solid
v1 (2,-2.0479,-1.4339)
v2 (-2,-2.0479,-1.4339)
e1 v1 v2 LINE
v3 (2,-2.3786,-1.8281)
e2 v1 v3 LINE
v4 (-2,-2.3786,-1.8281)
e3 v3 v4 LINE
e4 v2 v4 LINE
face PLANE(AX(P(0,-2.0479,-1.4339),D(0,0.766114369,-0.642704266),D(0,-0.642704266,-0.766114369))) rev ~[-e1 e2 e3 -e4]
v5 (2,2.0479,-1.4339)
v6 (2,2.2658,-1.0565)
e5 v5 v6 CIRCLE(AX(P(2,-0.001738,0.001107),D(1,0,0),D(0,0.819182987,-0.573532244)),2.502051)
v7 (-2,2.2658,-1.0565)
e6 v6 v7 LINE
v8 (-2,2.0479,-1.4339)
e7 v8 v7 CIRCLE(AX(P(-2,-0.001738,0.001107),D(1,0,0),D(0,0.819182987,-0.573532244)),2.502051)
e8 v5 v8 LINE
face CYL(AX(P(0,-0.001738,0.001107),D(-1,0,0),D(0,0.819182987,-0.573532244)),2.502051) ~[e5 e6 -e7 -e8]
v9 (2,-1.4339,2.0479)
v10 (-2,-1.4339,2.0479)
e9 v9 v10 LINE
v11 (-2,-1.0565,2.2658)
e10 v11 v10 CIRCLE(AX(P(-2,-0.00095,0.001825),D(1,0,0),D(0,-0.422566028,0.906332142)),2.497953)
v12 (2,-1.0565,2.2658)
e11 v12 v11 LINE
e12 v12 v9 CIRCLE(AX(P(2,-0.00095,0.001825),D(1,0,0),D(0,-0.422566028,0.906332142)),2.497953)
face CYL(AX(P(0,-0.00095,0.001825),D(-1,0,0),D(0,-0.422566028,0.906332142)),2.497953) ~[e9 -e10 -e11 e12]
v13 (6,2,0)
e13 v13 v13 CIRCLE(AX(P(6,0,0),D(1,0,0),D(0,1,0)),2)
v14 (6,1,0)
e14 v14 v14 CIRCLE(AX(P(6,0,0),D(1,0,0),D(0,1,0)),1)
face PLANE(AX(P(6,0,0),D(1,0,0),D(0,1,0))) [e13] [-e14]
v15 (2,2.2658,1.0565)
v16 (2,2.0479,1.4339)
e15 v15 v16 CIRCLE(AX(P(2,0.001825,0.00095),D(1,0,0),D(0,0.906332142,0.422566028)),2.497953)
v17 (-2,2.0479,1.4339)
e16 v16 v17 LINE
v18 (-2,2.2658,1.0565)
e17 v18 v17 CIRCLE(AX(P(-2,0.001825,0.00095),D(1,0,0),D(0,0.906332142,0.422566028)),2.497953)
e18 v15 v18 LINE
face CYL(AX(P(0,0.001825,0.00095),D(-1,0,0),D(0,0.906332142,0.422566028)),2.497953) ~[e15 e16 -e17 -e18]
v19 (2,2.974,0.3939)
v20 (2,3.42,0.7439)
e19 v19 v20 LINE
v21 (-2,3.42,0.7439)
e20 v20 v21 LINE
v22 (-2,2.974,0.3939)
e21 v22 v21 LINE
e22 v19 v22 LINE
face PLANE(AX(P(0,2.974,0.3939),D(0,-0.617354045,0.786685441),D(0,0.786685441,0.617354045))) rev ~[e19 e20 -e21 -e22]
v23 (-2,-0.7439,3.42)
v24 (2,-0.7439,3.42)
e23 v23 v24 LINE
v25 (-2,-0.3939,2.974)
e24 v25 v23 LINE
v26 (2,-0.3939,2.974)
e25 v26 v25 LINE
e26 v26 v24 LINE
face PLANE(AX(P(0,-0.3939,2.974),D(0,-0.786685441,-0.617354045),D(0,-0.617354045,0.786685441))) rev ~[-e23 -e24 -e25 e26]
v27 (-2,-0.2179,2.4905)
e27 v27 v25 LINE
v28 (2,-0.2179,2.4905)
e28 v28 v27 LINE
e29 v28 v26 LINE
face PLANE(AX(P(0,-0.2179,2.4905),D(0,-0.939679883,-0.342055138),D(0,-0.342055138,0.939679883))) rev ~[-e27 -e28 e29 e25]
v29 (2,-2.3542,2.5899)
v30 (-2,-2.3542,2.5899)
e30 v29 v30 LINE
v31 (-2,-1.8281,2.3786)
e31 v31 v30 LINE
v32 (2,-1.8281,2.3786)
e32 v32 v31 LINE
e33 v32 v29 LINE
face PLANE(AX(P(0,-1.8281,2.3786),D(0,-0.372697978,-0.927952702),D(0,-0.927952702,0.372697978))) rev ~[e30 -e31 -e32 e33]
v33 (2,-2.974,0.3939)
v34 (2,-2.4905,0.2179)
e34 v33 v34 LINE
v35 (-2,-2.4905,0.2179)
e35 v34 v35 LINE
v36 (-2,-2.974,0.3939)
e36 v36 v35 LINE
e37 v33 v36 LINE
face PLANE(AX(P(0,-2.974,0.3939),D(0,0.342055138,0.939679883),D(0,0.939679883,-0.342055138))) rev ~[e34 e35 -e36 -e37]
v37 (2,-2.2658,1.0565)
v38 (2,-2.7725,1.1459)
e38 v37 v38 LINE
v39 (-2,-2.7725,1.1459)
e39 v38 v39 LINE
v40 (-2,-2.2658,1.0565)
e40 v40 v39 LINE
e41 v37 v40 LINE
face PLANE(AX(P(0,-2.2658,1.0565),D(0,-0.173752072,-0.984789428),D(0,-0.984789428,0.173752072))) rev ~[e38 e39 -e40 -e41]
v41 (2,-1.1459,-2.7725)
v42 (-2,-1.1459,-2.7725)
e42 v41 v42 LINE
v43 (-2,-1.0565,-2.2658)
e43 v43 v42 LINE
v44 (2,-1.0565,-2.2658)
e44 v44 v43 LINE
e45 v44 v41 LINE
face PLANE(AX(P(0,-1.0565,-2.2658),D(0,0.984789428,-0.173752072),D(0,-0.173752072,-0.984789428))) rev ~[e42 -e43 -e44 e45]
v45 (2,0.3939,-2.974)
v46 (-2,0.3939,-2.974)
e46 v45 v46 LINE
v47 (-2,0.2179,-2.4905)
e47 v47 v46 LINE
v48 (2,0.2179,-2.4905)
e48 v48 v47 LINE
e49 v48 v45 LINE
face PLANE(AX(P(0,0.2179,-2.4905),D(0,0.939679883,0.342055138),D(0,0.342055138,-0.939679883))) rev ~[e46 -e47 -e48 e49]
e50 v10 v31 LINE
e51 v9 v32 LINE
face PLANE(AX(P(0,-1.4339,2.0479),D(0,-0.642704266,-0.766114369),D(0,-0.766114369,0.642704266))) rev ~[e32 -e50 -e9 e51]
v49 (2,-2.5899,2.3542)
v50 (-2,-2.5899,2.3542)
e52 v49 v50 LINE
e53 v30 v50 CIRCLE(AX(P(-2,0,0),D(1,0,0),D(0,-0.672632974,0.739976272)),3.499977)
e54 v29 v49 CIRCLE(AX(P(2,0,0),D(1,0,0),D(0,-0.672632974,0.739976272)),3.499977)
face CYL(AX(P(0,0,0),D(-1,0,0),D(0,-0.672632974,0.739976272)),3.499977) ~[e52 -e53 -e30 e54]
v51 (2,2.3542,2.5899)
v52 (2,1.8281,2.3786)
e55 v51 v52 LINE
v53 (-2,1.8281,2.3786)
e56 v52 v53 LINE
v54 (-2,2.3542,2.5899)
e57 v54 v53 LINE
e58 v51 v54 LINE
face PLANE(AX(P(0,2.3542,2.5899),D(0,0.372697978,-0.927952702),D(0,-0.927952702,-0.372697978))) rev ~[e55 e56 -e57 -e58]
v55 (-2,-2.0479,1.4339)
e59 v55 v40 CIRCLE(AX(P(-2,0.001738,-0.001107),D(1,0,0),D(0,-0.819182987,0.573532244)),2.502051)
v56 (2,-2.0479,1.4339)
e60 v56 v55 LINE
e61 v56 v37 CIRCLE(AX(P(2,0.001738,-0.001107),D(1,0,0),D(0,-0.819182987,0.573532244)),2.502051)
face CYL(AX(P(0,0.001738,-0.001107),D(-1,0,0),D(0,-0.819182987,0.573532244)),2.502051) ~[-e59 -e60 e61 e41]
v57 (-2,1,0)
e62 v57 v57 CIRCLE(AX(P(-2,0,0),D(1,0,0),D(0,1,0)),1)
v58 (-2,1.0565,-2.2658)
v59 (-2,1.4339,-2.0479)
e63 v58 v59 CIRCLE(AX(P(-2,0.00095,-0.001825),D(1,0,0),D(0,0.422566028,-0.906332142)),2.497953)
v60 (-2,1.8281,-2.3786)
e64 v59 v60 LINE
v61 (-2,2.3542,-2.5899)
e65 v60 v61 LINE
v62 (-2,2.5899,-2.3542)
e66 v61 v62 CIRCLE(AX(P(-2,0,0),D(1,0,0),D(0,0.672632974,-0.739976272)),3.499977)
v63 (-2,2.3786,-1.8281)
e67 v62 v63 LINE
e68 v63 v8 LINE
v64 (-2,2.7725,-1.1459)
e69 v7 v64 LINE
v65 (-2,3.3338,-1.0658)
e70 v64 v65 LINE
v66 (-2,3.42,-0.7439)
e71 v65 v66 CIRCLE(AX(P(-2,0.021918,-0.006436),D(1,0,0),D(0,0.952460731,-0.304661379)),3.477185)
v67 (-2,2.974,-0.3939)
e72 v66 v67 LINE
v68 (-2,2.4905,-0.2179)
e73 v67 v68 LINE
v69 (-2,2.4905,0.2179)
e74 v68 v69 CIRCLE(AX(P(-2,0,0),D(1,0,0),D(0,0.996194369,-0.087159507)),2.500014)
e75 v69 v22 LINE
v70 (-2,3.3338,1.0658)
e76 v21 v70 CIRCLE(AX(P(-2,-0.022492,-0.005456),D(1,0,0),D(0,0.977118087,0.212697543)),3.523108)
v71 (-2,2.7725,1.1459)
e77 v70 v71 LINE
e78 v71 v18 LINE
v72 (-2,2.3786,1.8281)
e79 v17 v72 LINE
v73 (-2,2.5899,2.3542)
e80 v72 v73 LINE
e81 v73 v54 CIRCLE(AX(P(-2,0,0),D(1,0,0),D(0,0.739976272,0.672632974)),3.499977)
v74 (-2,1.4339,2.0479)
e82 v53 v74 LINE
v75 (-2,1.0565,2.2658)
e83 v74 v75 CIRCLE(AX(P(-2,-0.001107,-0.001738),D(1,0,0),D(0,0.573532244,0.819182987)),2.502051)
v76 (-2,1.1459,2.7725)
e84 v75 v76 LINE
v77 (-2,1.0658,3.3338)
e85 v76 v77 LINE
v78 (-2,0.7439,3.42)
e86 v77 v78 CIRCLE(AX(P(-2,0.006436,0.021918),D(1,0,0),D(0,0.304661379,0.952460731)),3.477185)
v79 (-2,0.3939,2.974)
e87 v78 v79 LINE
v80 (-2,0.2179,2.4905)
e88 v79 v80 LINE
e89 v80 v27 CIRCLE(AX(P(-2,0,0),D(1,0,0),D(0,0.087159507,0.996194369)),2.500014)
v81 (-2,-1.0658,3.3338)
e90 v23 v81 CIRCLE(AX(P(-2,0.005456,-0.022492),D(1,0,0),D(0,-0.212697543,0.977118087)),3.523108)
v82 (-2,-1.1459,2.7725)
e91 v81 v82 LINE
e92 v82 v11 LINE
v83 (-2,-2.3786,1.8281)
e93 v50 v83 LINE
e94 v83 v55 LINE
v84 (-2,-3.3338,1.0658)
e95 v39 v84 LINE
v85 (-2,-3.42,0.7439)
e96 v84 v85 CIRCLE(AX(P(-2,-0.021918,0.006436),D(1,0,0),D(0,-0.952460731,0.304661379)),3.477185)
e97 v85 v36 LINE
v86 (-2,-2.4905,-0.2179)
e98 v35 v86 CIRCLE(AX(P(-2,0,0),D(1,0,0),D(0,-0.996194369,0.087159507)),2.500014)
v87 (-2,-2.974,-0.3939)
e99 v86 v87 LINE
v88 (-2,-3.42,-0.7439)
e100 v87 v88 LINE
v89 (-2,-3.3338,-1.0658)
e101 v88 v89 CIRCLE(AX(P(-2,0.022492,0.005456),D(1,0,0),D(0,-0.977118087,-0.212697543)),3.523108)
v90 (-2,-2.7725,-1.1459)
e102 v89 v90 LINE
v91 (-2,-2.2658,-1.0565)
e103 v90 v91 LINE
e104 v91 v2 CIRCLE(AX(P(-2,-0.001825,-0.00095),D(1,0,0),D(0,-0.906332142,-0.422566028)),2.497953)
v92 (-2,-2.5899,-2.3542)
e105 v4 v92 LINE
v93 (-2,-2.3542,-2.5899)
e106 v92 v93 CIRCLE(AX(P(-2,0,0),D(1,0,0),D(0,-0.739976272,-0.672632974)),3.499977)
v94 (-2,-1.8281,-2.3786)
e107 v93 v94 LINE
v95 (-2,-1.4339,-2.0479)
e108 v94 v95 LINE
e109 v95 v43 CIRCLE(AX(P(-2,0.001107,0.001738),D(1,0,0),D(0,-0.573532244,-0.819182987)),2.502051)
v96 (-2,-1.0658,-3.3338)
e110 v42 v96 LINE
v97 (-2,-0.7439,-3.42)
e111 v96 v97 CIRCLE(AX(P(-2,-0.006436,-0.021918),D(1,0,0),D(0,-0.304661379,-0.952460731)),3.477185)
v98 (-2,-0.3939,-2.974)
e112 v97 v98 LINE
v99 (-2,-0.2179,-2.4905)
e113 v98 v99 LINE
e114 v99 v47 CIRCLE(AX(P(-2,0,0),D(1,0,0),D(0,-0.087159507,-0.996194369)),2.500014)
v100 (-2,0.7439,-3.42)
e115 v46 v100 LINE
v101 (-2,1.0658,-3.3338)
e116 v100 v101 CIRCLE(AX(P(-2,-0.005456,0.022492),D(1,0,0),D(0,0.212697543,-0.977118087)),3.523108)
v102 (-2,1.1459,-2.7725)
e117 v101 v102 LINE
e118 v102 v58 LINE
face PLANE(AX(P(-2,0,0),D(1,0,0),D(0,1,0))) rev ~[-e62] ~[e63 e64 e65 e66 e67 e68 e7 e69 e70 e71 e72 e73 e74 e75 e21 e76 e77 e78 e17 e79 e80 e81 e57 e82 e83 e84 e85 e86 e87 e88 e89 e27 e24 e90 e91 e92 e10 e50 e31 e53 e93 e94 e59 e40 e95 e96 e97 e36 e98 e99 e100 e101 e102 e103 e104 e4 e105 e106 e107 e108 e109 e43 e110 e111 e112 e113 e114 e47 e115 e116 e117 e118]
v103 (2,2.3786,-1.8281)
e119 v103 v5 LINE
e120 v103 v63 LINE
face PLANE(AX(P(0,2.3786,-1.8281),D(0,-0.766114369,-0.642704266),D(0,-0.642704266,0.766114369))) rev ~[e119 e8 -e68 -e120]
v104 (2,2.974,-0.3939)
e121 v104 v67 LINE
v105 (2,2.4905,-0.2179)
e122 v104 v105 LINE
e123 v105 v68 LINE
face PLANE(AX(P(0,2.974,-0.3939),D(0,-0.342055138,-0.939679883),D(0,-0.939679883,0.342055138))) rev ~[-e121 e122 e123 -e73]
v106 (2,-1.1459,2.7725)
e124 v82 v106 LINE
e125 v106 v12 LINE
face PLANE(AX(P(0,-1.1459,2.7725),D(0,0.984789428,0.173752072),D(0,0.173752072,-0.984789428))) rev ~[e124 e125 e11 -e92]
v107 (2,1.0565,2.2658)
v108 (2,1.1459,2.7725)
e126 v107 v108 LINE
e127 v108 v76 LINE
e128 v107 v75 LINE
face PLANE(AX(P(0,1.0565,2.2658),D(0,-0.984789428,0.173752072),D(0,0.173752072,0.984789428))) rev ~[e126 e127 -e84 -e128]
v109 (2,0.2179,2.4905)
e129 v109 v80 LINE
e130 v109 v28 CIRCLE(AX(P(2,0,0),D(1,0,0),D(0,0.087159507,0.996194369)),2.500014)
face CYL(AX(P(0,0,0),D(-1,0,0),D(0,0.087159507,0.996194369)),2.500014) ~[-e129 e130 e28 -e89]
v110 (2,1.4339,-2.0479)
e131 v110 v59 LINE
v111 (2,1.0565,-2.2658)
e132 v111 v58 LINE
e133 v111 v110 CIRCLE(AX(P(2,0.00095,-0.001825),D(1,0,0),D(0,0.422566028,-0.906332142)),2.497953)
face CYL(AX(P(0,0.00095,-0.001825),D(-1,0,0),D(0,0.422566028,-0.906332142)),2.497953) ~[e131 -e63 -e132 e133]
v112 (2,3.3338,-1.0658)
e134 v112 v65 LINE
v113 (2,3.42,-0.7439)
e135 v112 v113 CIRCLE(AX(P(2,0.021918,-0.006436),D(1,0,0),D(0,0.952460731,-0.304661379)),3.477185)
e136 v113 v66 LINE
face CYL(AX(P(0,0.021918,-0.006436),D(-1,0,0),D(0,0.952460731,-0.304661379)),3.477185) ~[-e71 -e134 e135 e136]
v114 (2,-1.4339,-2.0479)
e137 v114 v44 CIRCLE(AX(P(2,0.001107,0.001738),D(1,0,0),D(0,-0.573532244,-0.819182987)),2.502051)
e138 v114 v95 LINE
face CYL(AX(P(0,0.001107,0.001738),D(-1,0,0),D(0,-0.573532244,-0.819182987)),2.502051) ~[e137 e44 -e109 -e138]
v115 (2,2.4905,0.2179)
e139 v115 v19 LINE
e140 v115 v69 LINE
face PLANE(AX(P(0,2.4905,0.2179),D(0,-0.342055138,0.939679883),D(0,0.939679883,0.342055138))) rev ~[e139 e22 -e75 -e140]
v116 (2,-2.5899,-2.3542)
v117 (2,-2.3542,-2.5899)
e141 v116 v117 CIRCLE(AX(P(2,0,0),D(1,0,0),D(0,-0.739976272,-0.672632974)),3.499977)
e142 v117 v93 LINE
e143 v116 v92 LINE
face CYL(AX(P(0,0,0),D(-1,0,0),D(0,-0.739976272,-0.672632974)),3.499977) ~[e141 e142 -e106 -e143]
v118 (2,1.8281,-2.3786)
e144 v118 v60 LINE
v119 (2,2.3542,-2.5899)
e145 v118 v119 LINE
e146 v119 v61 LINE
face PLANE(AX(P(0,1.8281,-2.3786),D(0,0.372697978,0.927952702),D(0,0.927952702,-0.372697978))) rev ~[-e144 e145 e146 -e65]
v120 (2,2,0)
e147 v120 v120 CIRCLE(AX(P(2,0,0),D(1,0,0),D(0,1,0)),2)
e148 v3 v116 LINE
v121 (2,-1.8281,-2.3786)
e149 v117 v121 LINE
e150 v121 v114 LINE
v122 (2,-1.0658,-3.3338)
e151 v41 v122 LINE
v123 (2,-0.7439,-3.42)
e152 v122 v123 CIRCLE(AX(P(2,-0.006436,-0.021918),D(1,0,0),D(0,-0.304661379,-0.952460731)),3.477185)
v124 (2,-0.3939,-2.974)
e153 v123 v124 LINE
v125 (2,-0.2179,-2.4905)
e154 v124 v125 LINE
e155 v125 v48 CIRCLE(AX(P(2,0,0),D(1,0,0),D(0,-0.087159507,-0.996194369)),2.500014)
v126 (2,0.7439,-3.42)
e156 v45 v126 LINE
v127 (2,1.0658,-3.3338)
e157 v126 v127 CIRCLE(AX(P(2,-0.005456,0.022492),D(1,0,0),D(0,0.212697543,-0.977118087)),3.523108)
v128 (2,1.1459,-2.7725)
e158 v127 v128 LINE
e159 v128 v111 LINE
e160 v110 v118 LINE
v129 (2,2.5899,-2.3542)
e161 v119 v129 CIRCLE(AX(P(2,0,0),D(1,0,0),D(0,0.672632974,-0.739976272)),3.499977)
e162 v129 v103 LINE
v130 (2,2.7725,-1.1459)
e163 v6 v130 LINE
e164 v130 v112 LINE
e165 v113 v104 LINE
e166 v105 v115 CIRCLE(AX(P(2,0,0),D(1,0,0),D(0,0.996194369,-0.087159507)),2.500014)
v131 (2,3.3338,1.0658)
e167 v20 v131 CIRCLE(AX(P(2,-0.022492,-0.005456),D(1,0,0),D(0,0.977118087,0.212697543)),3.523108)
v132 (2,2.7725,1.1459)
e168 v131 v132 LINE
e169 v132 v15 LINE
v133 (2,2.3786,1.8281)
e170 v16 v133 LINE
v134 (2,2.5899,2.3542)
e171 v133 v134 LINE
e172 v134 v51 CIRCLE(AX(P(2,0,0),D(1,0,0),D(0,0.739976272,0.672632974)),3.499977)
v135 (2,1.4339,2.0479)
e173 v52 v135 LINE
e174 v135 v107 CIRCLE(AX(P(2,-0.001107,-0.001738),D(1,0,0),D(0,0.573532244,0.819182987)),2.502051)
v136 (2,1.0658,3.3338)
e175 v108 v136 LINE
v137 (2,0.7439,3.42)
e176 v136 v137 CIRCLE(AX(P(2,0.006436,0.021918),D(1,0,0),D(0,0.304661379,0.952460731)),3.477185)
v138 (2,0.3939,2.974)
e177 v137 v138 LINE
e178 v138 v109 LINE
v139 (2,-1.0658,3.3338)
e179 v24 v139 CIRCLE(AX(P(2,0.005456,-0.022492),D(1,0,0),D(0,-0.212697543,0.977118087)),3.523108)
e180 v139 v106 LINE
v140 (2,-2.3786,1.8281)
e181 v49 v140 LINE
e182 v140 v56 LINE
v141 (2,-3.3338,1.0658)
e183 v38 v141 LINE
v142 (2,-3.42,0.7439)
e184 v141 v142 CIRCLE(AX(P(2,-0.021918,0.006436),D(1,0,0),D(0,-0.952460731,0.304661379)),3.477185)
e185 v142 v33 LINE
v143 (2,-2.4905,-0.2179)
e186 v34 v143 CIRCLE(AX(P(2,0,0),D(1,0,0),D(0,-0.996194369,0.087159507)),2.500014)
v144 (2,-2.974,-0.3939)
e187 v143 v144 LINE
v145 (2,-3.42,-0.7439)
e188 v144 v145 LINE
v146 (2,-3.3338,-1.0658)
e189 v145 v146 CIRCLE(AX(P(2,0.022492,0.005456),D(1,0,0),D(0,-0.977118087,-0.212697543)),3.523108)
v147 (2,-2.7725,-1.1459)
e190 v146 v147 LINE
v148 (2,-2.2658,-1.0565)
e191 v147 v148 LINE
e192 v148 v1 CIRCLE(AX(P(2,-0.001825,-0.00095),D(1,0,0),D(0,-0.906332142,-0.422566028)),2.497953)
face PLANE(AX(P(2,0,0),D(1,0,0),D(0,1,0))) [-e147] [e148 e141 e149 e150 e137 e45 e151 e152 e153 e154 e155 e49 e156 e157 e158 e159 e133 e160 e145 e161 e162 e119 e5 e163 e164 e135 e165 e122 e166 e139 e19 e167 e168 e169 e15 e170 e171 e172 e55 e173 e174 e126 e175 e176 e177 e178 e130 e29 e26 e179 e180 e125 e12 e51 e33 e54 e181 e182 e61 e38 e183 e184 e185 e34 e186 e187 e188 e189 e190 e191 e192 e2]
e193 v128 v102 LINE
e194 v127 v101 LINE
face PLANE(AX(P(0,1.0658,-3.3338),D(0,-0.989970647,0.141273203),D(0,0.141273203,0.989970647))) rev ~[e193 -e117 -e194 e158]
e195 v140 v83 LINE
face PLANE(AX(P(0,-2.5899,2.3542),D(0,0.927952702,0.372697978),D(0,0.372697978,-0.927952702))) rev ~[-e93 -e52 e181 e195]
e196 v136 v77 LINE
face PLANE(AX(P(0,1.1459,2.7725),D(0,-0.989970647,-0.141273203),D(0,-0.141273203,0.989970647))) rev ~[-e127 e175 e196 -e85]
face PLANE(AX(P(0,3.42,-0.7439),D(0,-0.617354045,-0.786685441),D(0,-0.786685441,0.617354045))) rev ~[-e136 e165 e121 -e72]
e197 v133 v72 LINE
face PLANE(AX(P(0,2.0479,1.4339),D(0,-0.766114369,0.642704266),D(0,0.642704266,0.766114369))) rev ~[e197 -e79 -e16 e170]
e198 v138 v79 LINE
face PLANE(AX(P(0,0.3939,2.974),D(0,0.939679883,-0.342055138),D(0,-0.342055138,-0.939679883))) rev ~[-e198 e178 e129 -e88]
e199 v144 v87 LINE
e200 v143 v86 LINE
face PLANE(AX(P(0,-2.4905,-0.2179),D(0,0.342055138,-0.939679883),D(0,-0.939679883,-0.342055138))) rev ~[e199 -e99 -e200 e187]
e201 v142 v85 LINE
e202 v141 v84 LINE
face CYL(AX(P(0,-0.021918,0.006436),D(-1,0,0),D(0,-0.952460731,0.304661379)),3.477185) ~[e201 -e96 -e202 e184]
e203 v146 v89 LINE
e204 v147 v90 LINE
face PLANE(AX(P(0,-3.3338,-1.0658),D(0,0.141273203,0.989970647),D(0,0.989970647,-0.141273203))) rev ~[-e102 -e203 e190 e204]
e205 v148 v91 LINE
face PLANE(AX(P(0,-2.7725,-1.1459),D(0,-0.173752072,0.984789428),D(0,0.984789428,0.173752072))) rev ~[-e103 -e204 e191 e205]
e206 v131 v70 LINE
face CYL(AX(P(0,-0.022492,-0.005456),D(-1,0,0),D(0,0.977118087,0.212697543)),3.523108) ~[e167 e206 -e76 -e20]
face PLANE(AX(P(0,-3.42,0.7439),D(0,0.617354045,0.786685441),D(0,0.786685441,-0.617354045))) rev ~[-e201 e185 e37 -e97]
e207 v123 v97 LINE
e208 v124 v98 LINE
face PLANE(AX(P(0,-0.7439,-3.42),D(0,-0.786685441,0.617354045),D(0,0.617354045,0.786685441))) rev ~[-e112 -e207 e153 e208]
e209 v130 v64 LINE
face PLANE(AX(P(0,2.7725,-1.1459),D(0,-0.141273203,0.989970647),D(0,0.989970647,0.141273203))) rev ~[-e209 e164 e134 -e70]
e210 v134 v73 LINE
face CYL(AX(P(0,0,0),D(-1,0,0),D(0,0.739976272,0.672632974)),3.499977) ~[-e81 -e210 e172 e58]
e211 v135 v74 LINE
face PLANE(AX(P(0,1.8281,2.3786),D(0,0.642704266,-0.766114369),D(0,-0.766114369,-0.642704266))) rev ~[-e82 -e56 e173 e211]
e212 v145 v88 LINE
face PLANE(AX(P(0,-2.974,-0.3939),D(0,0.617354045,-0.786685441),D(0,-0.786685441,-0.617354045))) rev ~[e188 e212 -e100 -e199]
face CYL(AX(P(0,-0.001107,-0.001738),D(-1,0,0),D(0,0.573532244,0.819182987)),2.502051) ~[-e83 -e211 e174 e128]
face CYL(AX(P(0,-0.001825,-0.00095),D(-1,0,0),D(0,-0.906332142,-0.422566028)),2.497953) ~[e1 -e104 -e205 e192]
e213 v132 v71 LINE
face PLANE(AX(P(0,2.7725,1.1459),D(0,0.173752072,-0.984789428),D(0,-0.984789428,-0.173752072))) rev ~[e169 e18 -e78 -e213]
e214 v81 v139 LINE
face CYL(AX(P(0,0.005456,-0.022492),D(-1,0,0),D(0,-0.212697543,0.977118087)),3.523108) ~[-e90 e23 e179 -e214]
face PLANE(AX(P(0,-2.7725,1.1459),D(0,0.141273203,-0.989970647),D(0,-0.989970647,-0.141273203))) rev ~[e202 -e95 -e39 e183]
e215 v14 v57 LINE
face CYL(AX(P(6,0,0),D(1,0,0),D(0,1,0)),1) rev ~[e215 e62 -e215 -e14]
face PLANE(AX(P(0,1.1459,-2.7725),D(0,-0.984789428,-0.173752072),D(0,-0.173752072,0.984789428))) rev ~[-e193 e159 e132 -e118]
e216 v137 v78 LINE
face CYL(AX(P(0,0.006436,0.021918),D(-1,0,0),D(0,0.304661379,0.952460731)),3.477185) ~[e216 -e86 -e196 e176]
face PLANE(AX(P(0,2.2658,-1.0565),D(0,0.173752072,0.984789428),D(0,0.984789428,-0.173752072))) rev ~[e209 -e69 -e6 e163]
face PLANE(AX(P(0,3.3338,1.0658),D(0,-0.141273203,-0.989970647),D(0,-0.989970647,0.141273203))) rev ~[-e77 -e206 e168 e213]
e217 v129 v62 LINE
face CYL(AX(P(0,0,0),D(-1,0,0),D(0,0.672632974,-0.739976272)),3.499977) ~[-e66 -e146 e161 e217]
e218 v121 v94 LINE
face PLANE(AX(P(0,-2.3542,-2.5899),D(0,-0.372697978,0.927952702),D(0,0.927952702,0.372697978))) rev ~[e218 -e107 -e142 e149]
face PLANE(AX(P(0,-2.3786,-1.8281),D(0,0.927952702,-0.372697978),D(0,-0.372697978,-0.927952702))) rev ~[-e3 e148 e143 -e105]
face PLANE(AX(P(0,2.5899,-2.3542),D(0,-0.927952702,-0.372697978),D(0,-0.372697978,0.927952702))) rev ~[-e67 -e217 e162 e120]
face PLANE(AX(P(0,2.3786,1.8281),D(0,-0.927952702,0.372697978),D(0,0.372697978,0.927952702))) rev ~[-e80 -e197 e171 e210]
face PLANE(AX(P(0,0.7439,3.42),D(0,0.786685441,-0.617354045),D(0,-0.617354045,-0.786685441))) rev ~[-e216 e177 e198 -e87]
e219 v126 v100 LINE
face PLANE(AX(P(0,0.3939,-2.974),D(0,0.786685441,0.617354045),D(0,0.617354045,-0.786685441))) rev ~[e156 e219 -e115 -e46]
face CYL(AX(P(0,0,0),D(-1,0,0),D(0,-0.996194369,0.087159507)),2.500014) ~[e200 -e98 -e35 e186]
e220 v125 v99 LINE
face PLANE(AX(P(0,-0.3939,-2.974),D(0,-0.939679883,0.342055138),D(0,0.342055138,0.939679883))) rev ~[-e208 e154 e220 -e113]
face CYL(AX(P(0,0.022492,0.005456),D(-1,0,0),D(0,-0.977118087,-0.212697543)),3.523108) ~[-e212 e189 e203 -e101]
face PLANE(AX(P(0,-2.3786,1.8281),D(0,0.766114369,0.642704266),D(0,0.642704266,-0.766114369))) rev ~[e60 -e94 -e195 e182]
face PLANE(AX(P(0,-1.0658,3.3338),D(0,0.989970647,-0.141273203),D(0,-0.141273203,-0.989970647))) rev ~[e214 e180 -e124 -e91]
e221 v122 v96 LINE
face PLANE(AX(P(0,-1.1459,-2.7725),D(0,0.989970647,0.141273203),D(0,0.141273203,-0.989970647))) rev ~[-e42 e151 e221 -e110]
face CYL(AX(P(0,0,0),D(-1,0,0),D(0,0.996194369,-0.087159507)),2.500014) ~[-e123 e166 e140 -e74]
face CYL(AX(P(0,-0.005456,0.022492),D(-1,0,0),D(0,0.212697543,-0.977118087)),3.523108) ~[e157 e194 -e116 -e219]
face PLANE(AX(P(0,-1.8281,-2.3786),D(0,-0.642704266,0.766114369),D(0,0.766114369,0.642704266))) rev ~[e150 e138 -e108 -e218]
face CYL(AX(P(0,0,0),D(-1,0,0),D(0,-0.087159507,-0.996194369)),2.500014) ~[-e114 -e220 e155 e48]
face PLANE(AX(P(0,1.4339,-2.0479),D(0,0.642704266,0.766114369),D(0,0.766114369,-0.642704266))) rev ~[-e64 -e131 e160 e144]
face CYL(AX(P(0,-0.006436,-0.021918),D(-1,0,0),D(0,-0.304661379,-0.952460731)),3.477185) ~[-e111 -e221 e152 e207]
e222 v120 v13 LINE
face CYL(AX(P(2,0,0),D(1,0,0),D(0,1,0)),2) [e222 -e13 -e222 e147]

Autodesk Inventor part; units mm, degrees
ref_plane "YZ Plane" through (0, 0, 0) normal (1, 0, 0) x (0, 1, 0)
ref_plane "XZ Plane" through (0, 0, 0) normal (0, 1, 0) x (-1, 0, 0)
ref_plane "XY Plane" through (0, 0, 0) normal (0, 0, 1) x (1, 0, 0)
sketch "Skizze_1" plane through (0, 0, 0) normal (1, 0, 0) x (0, 1, 0)
  arc A0 (-0.7439, 3.42) -> (-1.0658, 3.3338) centre (0, 0) ccw
  line L0 (-1.0658, 3.3338) -> (-1.1459, 2.7725)
  line L1 (-1.1459, 2.7725) -> (-1.0565, 2.2658)
  arc A1 (-1.0565, 2.2658) -> (-1.4339, 2.0479) centre (0, 0) ccw
  line L2 (-1.4339, 2.0479) -> (-1.8281, 2.3786)
  line L3 (-1.8281, 2.3786) -> (-2.3542, 2.5899)
  arc A2 (-2.3542, 2.5899) -> (-2.5899, 2.3542) centre (0, 0) ccw
  line L4 (-2.5899, 2.3542) -> (-2.3786, 1.8281)
  line L5 (-2.3786, 1.8281) -> (-2.0479, 1.4339)
  arc A3 (-2.0479, 1.4339) -> (-2.2658, 1.0565) centre (0, 0) ccw
  line L6 (-2.2658, 1.0565) -> (-2.7725, 1.1459)
  line L7 (-2.7725, 1.1459) -> (-3.3338, 1.0658)
  arc A4 (-3.3338, 1.0658) -> (-3.42, 0.7439) centre (0, 0) ccw
  line L8 (-3.42, 0.7439) -> (-2.974, 0.3939)
  line L9 (-2.974, 0.3939) -> (-2.4905, 0.2179)
  arc A5 (-2.4905, 0.2179) -> (-2.4905, -0.2179) centre (0, 0) ccw
  line L10 (-2.4905, -0.2179) -> (-2.974, -0.3939)
  line L11 (-2.974, -0.3939) -> (-3.42, -0.7439)
  arc A6 (-3.42, -0.7439) -> (-3.3338, -1.0658) centre (0, 0) ccw
  line L12 (-3.3338, -1.0658) -> (-2.7725, -1.1459)
  line L13 (-2.7725, -1.1459) -> (-2.2658, -1.0565)
  arc A7 (-2.2658, -1.0565) -> (-2.0479, -1.4339) centre (0, 0) ccw
  line L14 (-2.0479, -1.4339) -> (-2.3786, -1.8281)
  line L15 (-2.3786, -1.8281) -> (-2.5899, -2.3542)
  arc A8 (-2.5899, -2.3542) -> (-2.3542, -2.5899) centre (0, 0) ccw
  line L16 (-2.3542, -2.5899) -> (-1.8281, -2.3786)
  line L17 (-1.8281, -2.3786) -> (-1.4339, -2.0479)
  arc A9 (-1.4339, -2.0479) -> (-1.0565, -2.2658) centre (0, 0) ccw
  line L18 (-1.0565, -2.2658) -> (-1.1459, -2.7725)
  line L19 (-1.1459, -2.7725) -> (-1.0658, -3.3338)
  arc A10 (-1.0658, -3.3338) -> (-0.7439, -3.42) centre (0, 0) ccw
  line L20 (-0.7439, -3.42) -> (-0.3939, -2.974)
  line L21 (-0.3939, -2.974) -> (-0.2179, -2.4905)
  arc A11 (-0.2179, -2.4905) -> (0.2179, -2.4905) centre (0, 0) ccw
  line L22 (0.2179, -2.4905) -> (0.3939, -2.974)
  line L23 (0.3939, -2.974) -> (0.7439, -3.42)
  arc A12 (0.7439, -3.42) -> (1.0658, -3.3338) centre (0, 0) ccw
  line L24 (1.0658, -3.3338) -> (1.1459, -2.7725)
  line L25 (1.1459, -2.7725) -> (1.0565, -2.2658)
  arc A13 (1.0565, -2.2658) -> (1.4339, -2.0479) centre (0, 0) ccw
  line L26 (1.4339, -2.0479) -> (1.8281, -2.3786)
  line L27 (1.8281, -2.3786) -> (2.3542, -2.5899)
  arc A14 (2.3542, -2.5899) -> (2.5899, -2.3542) centre (0, 0) ccw
  line L28 (2.5899, -2.3542) -> (2.3786, -1.8281)
  line L29 (2.3786, -1.8281) -> (2.0479, -1.4339)
  arc A15 (2.0479, -1.4339) -> (2.2658, -1.0565) centre (0, 0) ccw
  line L30 (2.2658, -1.0565) -> (2.7725, -1.1459)
  line L31 (2.7725, -1.1459) -> (3.3338, -1.0658)
  arc A16 (3.3338, -1.0658) -> (3.42, -0.7439) centre (0, 0) ccw
  line L32 (3.42, -0.7439) -> (2.974, -0.3939)
  line L33 (2.974, -0.3939) -> (2.4905, -0.2179)
  arc A17 (2.4905, -0.2179) -> (2.4905, 0.2179) centre (0, 0) ccw
  line L34 (2.4905, 0.2179) -> (2.974, 0.3939)
  line L35 (2.974, 0.3939) -> (3.42, 0.7439)
  arc A18 (3.42, 0.7439) -> (3.3338, 1.0658) centre (0, 0) ccw
  line L36 (3.3338, 1.0658) -> (2.7725, 1.1459)
  line L37 (2.7725, 1.1459) -> (2.2658, 1.0565)
  arc A19 (2.2658, 1.0565) -> (2.0479, 1.4339) centre (0, 0) ccw
  line L38 (2.0479, 1.4339) -> (2.3786, 1.8281)
  line L39 (2.3786, 1.8281) -> (2.5899, 2.3542)
  arc A20 (2.5899, 2.3542) -> (2.3542, 2.5899) centre (0, 0) ccw
  line L40 (2.3542, 2.5899) -> (1.8281, 2.3786)
  line L41 (1.8281, 2.3786) -> (1.4339, 2.0479)
  arc A21 (1.4339, 2.0479) -> (1.0565, 2.2658) centre (0, 0) ccw
  line L42 (1.0565, 2.2658) -> (1.1459, 2.7725)
  line L43 (1.1459, 2.7725) -> (1.0658, 3.3338)
  arc A22 (1.0658, 3.3338) -> (0.7439, 3.42) centre (0, 0) ccw
  line L44 (0.7439, 3.42) -> (0.3939, 2.974)
  line L45 (0.3939, 2.974) -> (0.2179, 2.4905)
  arc A23 (0.2179, 2.4905) -> (-0.2179, 2.4905) centre (0, 0) ccw
  line L46 (-0.2179, 2.4905) -> (-0.3939, 2.974)
  line L47 (-0.3939, 2.974) -> (-0.7439, 3.42)
extrude "Extrusion1" add sketch "Skizze_1" along normal mid plane 4
sketch "Skizze_2" plane through (0, 0, 0) normal (0, 0, 1) x (1, 0, 0)
  line L0 (6, 0) -> (2, 0)
  line L1 (2, 0) -> (2, 2)
  line L2 (2, 2) -> (6, 2)
  line L3 (6, 2) -> (6, 0)
  line L4 (6, 0) -> (2, 0)
revolve "Revolution1" add sketch "Skizze_2" angle 360 about axis through (6, 0, 0) along (1, 0, 0)
sketch "Skizze_3" plane through (6, 0, 0) normal (1, 0, 0) x (0, 1, 0)
  circle A0 centre (0, 0) radius 1
extrude "Extrusion2" cut sketch "Skizze_3" along normal mid plane 16
properties part number "M-0.5 Zb-4mm M-0.7 Zb-5mm mN 21101200"
